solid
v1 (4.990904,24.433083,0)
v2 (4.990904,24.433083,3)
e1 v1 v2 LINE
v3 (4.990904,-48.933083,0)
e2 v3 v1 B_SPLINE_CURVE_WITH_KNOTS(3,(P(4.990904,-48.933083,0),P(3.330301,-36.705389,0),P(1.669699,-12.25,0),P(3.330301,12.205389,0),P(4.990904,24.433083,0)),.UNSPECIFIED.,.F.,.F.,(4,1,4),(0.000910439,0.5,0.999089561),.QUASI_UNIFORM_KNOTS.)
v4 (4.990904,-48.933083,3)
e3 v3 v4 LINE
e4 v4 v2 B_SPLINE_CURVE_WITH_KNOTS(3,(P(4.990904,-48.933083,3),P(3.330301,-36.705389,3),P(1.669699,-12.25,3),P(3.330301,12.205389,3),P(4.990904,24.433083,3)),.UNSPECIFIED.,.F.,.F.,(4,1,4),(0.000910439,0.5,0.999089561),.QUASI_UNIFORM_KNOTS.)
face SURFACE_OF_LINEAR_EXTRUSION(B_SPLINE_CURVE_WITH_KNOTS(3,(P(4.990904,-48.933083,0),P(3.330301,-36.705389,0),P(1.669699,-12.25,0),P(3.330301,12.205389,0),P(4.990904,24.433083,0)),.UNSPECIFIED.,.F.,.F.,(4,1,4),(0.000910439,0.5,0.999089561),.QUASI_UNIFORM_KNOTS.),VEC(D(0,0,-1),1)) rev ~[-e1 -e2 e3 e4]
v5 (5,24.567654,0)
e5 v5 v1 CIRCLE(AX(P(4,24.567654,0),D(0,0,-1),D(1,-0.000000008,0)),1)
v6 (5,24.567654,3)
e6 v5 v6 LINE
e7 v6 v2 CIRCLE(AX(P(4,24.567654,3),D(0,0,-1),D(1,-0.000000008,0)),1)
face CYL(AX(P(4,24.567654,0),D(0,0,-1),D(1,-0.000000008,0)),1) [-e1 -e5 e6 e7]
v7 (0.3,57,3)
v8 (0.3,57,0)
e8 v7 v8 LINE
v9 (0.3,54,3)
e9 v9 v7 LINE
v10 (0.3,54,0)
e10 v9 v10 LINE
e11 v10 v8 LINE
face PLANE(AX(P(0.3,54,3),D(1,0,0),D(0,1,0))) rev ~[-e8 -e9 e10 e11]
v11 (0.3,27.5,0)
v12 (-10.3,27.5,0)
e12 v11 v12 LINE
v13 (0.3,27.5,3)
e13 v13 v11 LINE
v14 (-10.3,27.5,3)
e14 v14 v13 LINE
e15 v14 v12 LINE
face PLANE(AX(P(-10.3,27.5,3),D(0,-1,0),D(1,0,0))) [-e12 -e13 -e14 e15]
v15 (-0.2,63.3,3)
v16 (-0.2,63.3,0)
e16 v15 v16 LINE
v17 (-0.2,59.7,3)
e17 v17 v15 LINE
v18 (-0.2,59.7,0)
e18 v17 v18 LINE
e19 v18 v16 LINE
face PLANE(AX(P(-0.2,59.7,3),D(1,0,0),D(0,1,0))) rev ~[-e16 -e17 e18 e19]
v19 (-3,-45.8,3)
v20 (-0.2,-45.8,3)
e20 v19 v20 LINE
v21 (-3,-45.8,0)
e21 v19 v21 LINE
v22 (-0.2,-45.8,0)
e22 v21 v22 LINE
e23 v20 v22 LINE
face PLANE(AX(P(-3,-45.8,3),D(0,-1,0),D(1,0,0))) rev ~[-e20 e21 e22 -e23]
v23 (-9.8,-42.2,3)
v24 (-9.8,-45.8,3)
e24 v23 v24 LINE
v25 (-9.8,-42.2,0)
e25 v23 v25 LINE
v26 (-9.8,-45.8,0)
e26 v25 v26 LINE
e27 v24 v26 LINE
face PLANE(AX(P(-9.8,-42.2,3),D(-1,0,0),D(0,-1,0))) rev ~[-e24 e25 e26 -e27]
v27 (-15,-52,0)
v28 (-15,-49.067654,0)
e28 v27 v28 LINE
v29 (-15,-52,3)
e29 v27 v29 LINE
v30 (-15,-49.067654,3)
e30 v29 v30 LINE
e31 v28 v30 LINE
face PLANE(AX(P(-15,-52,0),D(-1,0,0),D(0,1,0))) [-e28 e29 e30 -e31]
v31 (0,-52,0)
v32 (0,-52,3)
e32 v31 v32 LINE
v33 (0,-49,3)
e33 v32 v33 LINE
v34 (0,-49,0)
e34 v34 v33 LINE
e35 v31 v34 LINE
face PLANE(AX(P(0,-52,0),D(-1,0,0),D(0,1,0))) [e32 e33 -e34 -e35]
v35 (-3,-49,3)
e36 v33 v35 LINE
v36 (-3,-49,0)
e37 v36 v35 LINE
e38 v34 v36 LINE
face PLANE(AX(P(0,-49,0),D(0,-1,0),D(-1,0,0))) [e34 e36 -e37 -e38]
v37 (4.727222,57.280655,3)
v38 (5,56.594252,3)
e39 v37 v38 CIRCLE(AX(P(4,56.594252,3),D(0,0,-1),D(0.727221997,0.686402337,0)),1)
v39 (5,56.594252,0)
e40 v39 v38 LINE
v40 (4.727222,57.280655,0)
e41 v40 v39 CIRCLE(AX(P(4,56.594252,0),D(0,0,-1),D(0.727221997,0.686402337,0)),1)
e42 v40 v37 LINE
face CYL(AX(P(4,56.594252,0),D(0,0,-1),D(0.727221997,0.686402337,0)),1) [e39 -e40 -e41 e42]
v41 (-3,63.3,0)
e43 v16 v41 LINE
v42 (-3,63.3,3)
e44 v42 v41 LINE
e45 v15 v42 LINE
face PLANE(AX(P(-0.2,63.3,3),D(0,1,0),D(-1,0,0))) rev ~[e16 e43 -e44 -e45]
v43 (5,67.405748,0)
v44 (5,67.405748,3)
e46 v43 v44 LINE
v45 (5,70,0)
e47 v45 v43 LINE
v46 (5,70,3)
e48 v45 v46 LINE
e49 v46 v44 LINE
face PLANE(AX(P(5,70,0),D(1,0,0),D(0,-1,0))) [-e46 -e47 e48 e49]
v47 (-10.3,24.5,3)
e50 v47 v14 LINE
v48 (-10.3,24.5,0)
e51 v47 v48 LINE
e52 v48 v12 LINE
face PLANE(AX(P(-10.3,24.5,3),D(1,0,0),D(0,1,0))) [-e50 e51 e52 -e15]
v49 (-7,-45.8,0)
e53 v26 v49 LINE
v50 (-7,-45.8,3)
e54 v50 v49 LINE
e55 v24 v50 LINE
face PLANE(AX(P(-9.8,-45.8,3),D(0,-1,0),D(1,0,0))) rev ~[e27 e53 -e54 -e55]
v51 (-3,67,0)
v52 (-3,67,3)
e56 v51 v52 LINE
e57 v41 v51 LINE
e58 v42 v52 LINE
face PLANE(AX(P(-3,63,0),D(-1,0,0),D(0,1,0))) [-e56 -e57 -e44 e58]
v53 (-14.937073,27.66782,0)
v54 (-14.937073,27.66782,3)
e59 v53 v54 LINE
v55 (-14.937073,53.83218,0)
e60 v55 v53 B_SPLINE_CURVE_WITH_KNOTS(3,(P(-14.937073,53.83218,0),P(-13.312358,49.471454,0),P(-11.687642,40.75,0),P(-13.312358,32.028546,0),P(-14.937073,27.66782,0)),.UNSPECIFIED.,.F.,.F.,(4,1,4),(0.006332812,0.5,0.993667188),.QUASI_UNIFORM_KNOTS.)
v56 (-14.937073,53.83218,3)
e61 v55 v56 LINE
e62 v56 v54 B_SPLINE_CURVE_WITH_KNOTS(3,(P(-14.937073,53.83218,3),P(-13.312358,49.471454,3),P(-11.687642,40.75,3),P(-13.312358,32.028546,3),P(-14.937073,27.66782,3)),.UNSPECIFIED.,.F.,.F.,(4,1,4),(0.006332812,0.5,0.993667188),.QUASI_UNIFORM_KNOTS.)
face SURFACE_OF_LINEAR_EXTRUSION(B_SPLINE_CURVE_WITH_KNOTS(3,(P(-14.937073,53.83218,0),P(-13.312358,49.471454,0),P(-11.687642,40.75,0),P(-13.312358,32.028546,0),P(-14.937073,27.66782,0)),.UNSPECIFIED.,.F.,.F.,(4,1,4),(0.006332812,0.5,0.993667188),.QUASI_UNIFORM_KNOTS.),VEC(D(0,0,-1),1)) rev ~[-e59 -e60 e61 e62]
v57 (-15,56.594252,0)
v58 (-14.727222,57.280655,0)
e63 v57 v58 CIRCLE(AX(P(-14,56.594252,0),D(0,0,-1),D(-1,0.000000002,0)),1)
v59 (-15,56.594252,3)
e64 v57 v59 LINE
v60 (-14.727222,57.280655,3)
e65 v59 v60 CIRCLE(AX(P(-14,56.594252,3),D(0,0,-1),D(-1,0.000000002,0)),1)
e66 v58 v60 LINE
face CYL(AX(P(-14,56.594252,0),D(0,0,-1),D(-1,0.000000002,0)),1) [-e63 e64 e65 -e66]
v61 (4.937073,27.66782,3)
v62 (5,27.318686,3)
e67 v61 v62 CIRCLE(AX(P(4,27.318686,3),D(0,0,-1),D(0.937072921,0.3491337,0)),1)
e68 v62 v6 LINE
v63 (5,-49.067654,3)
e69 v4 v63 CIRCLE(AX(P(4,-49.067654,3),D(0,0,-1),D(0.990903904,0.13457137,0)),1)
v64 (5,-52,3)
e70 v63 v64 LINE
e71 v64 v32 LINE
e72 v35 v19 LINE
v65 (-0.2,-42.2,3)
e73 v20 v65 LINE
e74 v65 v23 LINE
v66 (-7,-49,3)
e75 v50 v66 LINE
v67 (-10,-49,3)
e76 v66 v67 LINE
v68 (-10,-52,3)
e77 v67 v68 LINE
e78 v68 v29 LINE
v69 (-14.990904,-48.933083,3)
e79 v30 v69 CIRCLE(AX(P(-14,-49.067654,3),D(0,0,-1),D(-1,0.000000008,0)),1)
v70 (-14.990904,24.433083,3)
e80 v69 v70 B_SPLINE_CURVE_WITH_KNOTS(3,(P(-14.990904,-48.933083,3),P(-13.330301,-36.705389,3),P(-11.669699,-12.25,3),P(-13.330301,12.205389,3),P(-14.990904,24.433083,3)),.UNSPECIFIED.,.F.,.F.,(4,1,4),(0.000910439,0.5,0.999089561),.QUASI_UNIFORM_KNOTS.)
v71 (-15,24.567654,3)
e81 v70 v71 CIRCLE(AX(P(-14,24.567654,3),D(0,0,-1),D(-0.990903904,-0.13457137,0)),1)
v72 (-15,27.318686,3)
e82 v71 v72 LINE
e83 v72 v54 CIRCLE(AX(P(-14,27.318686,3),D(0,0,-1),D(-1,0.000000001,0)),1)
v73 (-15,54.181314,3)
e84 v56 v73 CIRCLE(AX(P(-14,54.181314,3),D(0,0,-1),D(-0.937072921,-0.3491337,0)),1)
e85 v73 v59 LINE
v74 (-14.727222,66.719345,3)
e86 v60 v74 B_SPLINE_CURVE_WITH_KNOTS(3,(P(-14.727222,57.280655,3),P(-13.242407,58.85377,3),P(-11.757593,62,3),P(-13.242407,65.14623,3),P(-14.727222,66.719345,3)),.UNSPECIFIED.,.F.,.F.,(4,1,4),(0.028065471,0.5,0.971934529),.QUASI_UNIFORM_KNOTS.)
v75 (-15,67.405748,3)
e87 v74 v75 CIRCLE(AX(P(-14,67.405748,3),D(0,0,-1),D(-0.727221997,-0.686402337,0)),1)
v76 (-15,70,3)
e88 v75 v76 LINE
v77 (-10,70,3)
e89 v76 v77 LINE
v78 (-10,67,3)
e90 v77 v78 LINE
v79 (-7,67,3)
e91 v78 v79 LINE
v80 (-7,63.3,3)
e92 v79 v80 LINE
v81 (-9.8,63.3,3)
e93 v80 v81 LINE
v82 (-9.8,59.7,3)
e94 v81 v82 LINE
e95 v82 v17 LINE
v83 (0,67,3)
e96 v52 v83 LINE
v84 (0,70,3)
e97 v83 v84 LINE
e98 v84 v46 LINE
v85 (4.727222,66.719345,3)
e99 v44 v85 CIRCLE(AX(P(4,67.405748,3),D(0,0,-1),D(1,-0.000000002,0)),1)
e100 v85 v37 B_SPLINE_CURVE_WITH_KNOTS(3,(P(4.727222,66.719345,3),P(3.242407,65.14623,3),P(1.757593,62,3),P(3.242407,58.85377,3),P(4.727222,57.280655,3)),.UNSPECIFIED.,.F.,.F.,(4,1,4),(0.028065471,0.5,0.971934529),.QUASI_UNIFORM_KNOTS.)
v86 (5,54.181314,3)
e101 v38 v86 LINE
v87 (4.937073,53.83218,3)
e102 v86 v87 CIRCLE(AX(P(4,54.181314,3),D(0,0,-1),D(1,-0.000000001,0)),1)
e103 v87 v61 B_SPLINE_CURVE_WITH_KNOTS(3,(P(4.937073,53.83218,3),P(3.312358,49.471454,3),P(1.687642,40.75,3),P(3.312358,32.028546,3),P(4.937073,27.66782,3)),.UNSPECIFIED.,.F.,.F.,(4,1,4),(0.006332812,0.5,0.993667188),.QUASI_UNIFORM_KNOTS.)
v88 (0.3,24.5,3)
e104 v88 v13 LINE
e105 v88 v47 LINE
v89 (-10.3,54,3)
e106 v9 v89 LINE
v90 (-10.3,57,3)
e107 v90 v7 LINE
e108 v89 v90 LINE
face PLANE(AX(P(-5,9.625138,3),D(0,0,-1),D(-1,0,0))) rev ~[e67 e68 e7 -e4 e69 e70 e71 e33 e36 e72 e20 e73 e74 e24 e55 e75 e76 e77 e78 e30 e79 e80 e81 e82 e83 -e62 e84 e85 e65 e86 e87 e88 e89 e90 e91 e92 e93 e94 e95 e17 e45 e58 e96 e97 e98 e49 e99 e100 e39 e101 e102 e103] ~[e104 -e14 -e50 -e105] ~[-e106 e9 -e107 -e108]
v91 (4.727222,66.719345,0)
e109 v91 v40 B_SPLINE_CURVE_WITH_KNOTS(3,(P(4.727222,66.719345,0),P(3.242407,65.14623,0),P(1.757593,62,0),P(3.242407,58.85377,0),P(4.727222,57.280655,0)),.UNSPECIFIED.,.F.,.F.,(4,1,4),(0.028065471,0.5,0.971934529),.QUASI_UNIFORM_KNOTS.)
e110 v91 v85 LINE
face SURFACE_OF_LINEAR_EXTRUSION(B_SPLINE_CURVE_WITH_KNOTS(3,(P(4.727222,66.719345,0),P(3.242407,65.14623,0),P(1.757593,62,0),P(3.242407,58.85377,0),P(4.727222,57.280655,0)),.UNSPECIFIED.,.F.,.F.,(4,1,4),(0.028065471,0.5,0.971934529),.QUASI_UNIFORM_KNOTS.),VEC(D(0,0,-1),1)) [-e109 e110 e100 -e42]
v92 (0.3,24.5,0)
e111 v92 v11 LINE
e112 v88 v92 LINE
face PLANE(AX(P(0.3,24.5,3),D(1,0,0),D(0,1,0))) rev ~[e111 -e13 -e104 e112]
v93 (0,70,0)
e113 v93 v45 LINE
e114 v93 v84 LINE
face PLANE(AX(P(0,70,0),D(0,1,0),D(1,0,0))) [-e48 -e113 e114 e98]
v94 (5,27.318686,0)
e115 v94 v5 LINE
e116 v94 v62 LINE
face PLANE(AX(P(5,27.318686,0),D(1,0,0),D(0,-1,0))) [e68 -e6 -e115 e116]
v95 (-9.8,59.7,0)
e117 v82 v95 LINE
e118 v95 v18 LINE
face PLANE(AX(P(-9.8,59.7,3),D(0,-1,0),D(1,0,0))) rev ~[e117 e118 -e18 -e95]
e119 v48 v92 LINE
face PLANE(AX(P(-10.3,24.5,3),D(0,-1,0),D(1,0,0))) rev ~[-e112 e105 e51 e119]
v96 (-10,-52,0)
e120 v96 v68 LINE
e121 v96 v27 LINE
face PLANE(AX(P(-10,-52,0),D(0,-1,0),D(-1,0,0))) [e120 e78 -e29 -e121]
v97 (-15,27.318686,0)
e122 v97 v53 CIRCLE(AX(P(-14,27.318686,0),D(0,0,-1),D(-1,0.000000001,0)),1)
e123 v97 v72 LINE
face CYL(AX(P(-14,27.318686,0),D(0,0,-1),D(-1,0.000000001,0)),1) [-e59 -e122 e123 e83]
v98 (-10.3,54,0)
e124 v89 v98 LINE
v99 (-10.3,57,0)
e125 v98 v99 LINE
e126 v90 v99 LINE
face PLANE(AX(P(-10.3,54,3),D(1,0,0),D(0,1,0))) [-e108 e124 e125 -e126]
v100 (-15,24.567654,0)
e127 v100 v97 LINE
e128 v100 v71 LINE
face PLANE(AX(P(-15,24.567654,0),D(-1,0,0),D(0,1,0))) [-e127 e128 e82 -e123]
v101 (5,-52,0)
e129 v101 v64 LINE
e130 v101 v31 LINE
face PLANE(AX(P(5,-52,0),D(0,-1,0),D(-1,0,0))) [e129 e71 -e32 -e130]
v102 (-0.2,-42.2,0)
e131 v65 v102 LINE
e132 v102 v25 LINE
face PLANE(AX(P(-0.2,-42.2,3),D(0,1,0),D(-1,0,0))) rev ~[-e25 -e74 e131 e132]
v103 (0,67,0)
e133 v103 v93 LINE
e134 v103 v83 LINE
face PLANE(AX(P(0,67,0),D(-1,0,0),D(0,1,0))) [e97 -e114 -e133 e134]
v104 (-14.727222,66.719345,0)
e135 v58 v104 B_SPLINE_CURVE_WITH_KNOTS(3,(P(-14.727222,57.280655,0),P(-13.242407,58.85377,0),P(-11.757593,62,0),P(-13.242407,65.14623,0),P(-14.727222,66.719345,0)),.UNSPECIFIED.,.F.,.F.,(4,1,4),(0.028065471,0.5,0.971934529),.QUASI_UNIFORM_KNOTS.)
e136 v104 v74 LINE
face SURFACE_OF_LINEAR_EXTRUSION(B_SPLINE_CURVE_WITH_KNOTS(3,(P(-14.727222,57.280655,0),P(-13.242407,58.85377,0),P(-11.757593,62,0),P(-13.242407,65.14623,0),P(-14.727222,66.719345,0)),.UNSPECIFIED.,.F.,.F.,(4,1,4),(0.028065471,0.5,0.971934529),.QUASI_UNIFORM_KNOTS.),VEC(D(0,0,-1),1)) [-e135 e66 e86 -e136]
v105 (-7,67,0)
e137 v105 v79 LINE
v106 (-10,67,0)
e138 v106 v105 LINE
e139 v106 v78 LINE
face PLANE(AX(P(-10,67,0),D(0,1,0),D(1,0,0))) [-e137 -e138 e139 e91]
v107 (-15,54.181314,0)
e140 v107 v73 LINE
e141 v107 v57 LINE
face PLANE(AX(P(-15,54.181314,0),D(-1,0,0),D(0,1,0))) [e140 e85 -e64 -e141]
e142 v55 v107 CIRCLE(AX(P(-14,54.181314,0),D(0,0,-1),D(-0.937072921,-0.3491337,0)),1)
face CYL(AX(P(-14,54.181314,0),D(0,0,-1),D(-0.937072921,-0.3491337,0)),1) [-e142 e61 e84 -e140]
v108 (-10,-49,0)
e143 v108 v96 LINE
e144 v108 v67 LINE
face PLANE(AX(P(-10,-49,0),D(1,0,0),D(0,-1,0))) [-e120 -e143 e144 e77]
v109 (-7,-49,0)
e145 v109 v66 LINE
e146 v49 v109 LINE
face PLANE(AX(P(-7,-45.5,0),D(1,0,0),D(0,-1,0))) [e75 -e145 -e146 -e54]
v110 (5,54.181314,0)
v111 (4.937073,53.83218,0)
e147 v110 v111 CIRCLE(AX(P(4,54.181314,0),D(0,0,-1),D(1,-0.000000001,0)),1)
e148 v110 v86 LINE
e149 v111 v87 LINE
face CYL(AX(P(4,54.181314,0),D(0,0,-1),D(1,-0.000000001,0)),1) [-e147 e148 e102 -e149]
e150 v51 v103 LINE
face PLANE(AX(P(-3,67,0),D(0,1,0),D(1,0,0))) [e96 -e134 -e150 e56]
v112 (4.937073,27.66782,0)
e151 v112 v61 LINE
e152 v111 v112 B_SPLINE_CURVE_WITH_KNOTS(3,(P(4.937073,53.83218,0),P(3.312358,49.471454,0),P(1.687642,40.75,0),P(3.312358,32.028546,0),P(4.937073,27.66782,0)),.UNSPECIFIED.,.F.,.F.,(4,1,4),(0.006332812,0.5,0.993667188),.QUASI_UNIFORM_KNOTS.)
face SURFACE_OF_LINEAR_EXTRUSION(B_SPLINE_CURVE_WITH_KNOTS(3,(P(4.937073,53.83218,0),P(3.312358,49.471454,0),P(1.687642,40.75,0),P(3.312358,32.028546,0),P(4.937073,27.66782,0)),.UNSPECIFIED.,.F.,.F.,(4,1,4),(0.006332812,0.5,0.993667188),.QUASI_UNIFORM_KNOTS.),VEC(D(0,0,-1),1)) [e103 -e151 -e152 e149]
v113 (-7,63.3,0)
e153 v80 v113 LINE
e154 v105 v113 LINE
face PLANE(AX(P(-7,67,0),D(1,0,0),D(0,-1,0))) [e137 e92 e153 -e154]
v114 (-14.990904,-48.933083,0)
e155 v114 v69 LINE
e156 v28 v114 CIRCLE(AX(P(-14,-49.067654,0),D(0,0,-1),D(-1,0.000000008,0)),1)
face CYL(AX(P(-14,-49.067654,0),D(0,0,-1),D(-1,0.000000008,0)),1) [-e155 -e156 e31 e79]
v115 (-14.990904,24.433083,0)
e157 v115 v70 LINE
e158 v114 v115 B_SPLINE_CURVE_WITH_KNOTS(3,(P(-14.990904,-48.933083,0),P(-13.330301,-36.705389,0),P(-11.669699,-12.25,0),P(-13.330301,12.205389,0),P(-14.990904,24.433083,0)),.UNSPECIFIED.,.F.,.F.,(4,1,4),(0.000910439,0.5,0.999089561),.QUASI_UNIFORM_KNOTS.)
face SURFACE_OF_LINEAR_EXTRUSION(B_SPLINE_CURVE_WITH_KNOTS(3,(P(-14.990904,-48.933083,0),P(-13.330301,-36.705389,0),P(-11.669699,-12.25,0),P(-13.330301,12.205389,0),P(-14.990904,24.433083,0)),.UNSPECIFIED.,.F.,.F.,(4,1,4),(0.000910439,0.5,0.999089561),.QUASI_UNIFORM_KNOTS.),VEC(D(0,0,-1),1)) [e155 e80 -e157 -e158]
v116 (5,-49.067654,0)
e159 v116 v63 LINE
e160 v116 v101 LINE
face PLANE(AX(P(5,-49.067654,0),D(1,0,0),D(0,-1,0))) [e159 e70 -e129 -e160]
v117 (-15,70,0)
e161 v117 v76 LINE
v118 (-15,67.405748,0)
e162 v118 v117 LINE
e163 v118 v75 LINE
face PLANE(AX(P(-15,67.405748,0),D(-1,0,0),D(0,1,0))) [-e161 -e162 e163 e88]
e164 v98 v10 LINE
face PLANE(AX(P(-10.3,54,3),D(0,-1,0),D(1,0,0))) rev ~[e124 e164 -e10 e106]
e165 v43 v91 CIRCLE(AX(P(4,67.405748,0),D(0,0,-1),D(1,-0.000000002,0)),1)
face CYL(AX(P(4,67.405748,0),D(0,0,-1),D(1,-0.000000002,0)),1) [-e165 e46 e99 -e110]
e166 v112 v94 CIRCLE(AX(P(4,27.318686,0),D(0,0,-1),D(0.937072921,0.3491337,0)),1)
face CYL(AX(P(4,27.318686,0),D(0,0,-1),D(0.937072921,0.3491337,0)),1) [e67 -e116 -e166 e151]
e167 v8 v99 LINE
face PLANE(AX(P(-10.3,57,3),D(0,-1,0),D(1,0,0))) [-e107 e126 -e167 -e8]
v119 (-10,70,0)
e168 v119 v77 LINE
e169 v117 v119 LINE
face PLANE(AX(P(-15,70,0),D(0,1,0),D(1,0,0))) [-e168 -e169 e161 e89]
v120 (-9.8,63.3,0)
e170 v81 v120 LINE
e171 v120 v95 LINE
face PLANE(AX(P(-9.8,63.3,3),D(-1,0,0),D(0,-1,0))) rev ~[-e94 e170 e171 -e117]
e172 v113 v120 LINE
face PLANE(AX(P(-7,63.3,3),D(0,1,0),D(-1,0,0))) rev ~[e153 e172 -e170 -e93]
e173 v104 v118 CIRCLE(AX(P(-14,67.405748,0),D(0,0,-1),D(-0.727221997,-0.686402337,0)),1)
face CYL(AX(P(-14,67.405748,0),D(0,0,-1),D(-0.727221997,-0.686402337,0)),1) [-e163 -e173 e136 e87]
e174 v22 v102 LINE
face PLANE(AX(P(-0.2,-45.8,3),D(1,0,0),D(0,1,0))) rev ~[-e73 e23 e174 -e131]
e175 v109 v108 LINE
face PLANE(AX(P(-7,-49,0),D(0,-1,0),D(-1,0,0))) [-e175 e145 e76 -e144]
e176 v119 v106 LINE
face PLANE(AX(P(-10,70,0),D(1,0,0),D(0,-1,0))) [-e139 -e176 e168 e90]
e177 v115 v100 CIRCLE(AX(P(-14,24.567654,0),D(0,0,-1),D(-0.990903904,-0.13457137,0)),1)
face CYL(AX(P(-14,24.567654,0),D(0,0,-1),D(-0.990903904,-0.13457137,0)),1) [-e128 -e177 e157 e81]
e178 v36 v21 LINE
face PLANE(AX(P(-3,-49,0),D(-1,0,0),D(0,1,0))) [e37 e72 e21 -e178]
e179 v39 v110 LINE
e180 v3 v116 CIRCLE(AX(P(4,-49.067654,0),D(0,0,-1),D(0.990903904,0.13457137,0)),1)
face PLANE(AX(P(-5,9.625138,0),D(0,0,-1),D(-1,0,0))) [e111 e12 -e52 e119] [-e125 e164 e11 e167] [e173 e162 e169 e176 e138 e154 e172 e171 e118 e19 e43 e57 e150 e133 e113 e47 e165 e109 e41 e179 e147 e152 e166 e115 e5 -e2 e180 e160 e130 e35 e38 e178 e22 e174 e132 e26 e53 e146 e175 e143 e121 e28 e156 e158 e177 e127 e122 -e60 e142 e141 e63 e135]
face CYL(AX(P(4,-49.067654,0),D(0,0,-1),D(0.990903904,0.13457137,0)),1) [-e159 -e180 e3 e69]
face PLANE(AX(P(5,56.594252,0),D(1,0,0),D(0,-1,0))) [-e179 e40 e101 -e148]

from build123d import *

# Parameters (mm, degrees)
CROQUIS1_W              = 10
CROQUIS1_H              = 3
SALIENTE_EXTRUIR1_DEPTH = 3
CROQUIS2_W              = 0.3
CROQUIS2_H              = 0.3
CROQUIS2_H_2            = 3
CORTAR_EXTRUIR2_DEPTH   = 3


with BuildPart() as part:
    # Croquis1 → Saliente-Extruir1 (new body)
    with BuildSketch(Plane.XY):
        with BuildLine():
            Line((-10, 70), (-10, 67))
            Line((-10, 67), (-7, 67))
            Line((-7, 67), (-7, 63))
            Line((-7, 63), (-9.5, 63))
            Line((-9.5, 63), (-9.5, 60))
            Line((-9.5, 60), (-0.5, 60))
            Line((-0.5, 60), (-0.5, 63))
            Line((-0.5, 63), (-3, 63))
            Line((-3, 63), (-3, 67))
            Line((-3, 67), (0, 67))
            Line((0, 67), (0, 70))
            Line((0, 70), (5, 70))
            Line((5, 70), (5, 67.405747627))
            ThreePointArc((5, 67.405747627), (4.929306729, 67.036438809), (4.727221995, 66.719345288))
            add(Edge.make_bspline(
                [(4.727221995, 66.719345288), (3.242407332, 65.146230192), (1.757592668, 62), (3.242407332, 58.853769808), (4.727221995, 57.280654712)],
                knots=[0.028065471, 0.028065471, 0.028065471, 0.028065471, 0.5, 0.971934529, 0.971934529, 0.971934529, 0.971934529], degree=3))
            ThreePointArc((4.727221995, 57.280654712), (4.929306729, 56.963561191), (5, 56.594252373))
            Line((5, 56.594252373), (5, 54.181314171))
            ThreePointArc((5, 54.181314171), (4.9841425, 54.003934523), (4.937072921, 53.832180471))
            add(Edge.make_bspline(
                [(4.937072921, 53.832180471), (3.31235764, 49.471453647), (1.68764236, 40.75), (3.31235764, 32.028546353), (4.937072921, 27.667819529)],
                knots=[0.006332812, 0.006332812, 0.006332812, 0.006332812, 0.5, 0.993667188, 0.993667188, 0.993667188, 0.993667188], degree=3))
            ThreePointArc((4.937072921, 27.667819529), (4.9841425, 27.496065477), (5, 27.318685829))
            Line((5, 27.318685829), (5, 24.567654138))
            ThreePointArc((5, 24.567654138), (4.997723384, 24.500214919), (4.990903903, 24.433082766))
            add(Edge.make_bspline(
                [(4.990903903, -48.933082766), (3.330301301, -36.70538851), (1.669698699, -12.25), (3.330301301, 12.20538851), (4.990903903, 24.433082766)],
                knots=[0.000910439, 0.000910439, 0.000910439, 0.000910439, 0.5, 0.999089561, 0.999089561, 0.999089561, 0.999089561], degree=3))
            ThreePointArc((4.990903903, -48.933082766), (4.997723384, -49.000214919), (5, -49.067654138))
            Line((5, -49.067654138), (5, -51.701381229))
            Line((5, -51.701381229), (5, -52))
            Line((5, -52), (0, -52))
            Line((0, -52), (0, -49))
            Line((0, -49), (-3, -49))
            Line((-3, -49), (-3, -45.5))
            Line((-3, -45.5), (-0.5, -45.5))
            Line((-0.5, -45.5), (-0.5, -42.5))
            Line((-0.5, -42.5), (-9.5, -42.5))
            Line((-9.5, -42.5), (-9.5, -45.5))
            Line((-9.5, -45.5), (-7, -45.5))
            Line((-7, -45.5), (-7, -49))
            Line((-7, -49), (-10, -49))
            Line((-10, -49), (-10, -52))
            Line((-10, -52), (-15, -52))
            Line((-15, -52), (-15, -51.701381229))
            Line((-15, -51.701381229), (-15, -49.067654138))
            ThreePointArc((-15, -49.067654138), (-14.997723384, -49.000214919), (-14.990903903, -48.933082766))
            add(Edge.make_bspline(
                [(-14.990903903, -48.933082766), (-13.330301301, -36.70538851), (-11.669698699, -12.25), (-13.330301301, 12.20538851), (-14.990903903, 24.433082766)],
                knots=[0.000910439, 0.000910439, 0.000910439, 0.000910439, 0.5, 0.999089561, 0.999089561, 0.999089561, 0.999089561], degree=3))
            ThreePointArc((-14.990903903, 24.433082766), (-14.997723384, 24.500214919), (-15, 24.567654138))
            Line((-15, 24.567654138), (-15, 27.318685829))
            ThreePointArc((-15, 27.318685829), (-14.9841425, 27.496065477), (-14.937072921, 27.667819529))
            add(Edge.make_bspline(
                [(-14.937072921, 53.832180471), (-13.31235764, 49.471453647), (-11.68764236, 40.75), (-13.31235764, 32.028546353), (-14.937072921, 27.667819529)],
                knots=[0.006332812, 0.006332812, 0.006332812, 0.006332812, 0.5, 0.993667188, 0.993667188, 0.993667188, 0.993667188], degree=3))
            ThreePointArc((-14.937072921, 53.832180471), (-14.9841425, 54.003934523), (-15, 54.181314171))
            Line((-15, 54.181314171), (-15, 56.594252373))
            ThreePointArc((-15, 56.594252373), (-14.929306729, 56.963561191), (-14.727221995, 57.280654712))
            add(Edge.make_bspline(
                [(-14.727221995, 57.280654712), (-13.242407332, 58.853769808), (-11.757592668, 62), (-13.242407332, 65.146230192), (-14.727221995, 66.719345288)],
                knots=[0.028065471, 0.028065471, 0.028065471, 0.028065471, 0.5, 0.971934529, 0.971934529, 0.971934529, 0.971934529], degree=3))
            ThreePointArc((-14.727221995, 66.719345288), (-14.929306729, 67.036438809), (-15, 67.405747627))
            Line((-15, 67.405747627), (-15, 70))
            Line((-15, 70), (-10, 70))
        make_face()
        with Locations((-5, 26)):
            Rectangle(CROQUIS1_W, CROQUIS1_H, mode=Mode.SUBTRACT)
        with Locations((-5, 55.5)):
            Rectangle(CROQUIS1_W, CROQUIS1_H, mode=Mode.SUBTRACT)
    extrude(amount=SALIENTE_EXTRUIR1_DEPTH)

    # Croquis2 → Cortar-Extruir2 (cut)
    with BuildSketch(Plane.XY.offset(3)):
        Polygon((-9.8, -45.5), (-9.8, -45.8), (-9.5, -45.8), (-7, -45.8), (-7, -45.5), (-9.5, -45.5), (-9.5, -42.5), (-0.5, -42.5), (-0.5, -42.2), (-9.5, -42.2), (-9.8, -42.2), (-9.8, -42.5), align=None)
        Polygon((-0.5, -45.8), (-0.2, -45.8), (-0.2, -45.5), (-0.2, -42.5), (-0.5, -42.5), (-0.5, -45.5), (-3, -45.5), (-3, -45.8), align=None)
        with Locations((-0.35, -42.35)):
            Rectangle(CROQUIS2_W, CROQUIS2_H)
        with Locations((-10.15, 26)):
            Rectangle(CROQUIS2_W, CROQUIS2_H_2)
        with Locations((0.15, 26)):
            Rectangle(CROQUIS2_W, CROQUIS2_H_2)
        with Locations((0.15, 55.5)):
            Rectangle(CROQUIS2_W, CROQUIS2_H_2)
        with Locations((-10.15, 55.5)):
            Rectangle(CROQUIS2_W, CROQUIS2_H_2)
        Polygon((-9.8, 63.3), (-9.5, 63.3), (-7, 63.3), (-7, 63), (-9.5, 63), (-9.5, 60), (-0.5, 60), (-0.5, 63), (-3, 63), (-3, 63.3), (-0.5, 63.3), (-0.2, 63.3), (-0.2, 63), (-0.2, 60), (-0.2, 59.7), (-0.5, 59.7), (-9.5, 59.7), (-9.8, 59.7), (-9.8, 60), (-9.8, 63), align=None)
    extrude(amount=-CORTAR_EXTRUIR2_DEPTH, mode=Mode.SUBTRACT)


solid = part.part
